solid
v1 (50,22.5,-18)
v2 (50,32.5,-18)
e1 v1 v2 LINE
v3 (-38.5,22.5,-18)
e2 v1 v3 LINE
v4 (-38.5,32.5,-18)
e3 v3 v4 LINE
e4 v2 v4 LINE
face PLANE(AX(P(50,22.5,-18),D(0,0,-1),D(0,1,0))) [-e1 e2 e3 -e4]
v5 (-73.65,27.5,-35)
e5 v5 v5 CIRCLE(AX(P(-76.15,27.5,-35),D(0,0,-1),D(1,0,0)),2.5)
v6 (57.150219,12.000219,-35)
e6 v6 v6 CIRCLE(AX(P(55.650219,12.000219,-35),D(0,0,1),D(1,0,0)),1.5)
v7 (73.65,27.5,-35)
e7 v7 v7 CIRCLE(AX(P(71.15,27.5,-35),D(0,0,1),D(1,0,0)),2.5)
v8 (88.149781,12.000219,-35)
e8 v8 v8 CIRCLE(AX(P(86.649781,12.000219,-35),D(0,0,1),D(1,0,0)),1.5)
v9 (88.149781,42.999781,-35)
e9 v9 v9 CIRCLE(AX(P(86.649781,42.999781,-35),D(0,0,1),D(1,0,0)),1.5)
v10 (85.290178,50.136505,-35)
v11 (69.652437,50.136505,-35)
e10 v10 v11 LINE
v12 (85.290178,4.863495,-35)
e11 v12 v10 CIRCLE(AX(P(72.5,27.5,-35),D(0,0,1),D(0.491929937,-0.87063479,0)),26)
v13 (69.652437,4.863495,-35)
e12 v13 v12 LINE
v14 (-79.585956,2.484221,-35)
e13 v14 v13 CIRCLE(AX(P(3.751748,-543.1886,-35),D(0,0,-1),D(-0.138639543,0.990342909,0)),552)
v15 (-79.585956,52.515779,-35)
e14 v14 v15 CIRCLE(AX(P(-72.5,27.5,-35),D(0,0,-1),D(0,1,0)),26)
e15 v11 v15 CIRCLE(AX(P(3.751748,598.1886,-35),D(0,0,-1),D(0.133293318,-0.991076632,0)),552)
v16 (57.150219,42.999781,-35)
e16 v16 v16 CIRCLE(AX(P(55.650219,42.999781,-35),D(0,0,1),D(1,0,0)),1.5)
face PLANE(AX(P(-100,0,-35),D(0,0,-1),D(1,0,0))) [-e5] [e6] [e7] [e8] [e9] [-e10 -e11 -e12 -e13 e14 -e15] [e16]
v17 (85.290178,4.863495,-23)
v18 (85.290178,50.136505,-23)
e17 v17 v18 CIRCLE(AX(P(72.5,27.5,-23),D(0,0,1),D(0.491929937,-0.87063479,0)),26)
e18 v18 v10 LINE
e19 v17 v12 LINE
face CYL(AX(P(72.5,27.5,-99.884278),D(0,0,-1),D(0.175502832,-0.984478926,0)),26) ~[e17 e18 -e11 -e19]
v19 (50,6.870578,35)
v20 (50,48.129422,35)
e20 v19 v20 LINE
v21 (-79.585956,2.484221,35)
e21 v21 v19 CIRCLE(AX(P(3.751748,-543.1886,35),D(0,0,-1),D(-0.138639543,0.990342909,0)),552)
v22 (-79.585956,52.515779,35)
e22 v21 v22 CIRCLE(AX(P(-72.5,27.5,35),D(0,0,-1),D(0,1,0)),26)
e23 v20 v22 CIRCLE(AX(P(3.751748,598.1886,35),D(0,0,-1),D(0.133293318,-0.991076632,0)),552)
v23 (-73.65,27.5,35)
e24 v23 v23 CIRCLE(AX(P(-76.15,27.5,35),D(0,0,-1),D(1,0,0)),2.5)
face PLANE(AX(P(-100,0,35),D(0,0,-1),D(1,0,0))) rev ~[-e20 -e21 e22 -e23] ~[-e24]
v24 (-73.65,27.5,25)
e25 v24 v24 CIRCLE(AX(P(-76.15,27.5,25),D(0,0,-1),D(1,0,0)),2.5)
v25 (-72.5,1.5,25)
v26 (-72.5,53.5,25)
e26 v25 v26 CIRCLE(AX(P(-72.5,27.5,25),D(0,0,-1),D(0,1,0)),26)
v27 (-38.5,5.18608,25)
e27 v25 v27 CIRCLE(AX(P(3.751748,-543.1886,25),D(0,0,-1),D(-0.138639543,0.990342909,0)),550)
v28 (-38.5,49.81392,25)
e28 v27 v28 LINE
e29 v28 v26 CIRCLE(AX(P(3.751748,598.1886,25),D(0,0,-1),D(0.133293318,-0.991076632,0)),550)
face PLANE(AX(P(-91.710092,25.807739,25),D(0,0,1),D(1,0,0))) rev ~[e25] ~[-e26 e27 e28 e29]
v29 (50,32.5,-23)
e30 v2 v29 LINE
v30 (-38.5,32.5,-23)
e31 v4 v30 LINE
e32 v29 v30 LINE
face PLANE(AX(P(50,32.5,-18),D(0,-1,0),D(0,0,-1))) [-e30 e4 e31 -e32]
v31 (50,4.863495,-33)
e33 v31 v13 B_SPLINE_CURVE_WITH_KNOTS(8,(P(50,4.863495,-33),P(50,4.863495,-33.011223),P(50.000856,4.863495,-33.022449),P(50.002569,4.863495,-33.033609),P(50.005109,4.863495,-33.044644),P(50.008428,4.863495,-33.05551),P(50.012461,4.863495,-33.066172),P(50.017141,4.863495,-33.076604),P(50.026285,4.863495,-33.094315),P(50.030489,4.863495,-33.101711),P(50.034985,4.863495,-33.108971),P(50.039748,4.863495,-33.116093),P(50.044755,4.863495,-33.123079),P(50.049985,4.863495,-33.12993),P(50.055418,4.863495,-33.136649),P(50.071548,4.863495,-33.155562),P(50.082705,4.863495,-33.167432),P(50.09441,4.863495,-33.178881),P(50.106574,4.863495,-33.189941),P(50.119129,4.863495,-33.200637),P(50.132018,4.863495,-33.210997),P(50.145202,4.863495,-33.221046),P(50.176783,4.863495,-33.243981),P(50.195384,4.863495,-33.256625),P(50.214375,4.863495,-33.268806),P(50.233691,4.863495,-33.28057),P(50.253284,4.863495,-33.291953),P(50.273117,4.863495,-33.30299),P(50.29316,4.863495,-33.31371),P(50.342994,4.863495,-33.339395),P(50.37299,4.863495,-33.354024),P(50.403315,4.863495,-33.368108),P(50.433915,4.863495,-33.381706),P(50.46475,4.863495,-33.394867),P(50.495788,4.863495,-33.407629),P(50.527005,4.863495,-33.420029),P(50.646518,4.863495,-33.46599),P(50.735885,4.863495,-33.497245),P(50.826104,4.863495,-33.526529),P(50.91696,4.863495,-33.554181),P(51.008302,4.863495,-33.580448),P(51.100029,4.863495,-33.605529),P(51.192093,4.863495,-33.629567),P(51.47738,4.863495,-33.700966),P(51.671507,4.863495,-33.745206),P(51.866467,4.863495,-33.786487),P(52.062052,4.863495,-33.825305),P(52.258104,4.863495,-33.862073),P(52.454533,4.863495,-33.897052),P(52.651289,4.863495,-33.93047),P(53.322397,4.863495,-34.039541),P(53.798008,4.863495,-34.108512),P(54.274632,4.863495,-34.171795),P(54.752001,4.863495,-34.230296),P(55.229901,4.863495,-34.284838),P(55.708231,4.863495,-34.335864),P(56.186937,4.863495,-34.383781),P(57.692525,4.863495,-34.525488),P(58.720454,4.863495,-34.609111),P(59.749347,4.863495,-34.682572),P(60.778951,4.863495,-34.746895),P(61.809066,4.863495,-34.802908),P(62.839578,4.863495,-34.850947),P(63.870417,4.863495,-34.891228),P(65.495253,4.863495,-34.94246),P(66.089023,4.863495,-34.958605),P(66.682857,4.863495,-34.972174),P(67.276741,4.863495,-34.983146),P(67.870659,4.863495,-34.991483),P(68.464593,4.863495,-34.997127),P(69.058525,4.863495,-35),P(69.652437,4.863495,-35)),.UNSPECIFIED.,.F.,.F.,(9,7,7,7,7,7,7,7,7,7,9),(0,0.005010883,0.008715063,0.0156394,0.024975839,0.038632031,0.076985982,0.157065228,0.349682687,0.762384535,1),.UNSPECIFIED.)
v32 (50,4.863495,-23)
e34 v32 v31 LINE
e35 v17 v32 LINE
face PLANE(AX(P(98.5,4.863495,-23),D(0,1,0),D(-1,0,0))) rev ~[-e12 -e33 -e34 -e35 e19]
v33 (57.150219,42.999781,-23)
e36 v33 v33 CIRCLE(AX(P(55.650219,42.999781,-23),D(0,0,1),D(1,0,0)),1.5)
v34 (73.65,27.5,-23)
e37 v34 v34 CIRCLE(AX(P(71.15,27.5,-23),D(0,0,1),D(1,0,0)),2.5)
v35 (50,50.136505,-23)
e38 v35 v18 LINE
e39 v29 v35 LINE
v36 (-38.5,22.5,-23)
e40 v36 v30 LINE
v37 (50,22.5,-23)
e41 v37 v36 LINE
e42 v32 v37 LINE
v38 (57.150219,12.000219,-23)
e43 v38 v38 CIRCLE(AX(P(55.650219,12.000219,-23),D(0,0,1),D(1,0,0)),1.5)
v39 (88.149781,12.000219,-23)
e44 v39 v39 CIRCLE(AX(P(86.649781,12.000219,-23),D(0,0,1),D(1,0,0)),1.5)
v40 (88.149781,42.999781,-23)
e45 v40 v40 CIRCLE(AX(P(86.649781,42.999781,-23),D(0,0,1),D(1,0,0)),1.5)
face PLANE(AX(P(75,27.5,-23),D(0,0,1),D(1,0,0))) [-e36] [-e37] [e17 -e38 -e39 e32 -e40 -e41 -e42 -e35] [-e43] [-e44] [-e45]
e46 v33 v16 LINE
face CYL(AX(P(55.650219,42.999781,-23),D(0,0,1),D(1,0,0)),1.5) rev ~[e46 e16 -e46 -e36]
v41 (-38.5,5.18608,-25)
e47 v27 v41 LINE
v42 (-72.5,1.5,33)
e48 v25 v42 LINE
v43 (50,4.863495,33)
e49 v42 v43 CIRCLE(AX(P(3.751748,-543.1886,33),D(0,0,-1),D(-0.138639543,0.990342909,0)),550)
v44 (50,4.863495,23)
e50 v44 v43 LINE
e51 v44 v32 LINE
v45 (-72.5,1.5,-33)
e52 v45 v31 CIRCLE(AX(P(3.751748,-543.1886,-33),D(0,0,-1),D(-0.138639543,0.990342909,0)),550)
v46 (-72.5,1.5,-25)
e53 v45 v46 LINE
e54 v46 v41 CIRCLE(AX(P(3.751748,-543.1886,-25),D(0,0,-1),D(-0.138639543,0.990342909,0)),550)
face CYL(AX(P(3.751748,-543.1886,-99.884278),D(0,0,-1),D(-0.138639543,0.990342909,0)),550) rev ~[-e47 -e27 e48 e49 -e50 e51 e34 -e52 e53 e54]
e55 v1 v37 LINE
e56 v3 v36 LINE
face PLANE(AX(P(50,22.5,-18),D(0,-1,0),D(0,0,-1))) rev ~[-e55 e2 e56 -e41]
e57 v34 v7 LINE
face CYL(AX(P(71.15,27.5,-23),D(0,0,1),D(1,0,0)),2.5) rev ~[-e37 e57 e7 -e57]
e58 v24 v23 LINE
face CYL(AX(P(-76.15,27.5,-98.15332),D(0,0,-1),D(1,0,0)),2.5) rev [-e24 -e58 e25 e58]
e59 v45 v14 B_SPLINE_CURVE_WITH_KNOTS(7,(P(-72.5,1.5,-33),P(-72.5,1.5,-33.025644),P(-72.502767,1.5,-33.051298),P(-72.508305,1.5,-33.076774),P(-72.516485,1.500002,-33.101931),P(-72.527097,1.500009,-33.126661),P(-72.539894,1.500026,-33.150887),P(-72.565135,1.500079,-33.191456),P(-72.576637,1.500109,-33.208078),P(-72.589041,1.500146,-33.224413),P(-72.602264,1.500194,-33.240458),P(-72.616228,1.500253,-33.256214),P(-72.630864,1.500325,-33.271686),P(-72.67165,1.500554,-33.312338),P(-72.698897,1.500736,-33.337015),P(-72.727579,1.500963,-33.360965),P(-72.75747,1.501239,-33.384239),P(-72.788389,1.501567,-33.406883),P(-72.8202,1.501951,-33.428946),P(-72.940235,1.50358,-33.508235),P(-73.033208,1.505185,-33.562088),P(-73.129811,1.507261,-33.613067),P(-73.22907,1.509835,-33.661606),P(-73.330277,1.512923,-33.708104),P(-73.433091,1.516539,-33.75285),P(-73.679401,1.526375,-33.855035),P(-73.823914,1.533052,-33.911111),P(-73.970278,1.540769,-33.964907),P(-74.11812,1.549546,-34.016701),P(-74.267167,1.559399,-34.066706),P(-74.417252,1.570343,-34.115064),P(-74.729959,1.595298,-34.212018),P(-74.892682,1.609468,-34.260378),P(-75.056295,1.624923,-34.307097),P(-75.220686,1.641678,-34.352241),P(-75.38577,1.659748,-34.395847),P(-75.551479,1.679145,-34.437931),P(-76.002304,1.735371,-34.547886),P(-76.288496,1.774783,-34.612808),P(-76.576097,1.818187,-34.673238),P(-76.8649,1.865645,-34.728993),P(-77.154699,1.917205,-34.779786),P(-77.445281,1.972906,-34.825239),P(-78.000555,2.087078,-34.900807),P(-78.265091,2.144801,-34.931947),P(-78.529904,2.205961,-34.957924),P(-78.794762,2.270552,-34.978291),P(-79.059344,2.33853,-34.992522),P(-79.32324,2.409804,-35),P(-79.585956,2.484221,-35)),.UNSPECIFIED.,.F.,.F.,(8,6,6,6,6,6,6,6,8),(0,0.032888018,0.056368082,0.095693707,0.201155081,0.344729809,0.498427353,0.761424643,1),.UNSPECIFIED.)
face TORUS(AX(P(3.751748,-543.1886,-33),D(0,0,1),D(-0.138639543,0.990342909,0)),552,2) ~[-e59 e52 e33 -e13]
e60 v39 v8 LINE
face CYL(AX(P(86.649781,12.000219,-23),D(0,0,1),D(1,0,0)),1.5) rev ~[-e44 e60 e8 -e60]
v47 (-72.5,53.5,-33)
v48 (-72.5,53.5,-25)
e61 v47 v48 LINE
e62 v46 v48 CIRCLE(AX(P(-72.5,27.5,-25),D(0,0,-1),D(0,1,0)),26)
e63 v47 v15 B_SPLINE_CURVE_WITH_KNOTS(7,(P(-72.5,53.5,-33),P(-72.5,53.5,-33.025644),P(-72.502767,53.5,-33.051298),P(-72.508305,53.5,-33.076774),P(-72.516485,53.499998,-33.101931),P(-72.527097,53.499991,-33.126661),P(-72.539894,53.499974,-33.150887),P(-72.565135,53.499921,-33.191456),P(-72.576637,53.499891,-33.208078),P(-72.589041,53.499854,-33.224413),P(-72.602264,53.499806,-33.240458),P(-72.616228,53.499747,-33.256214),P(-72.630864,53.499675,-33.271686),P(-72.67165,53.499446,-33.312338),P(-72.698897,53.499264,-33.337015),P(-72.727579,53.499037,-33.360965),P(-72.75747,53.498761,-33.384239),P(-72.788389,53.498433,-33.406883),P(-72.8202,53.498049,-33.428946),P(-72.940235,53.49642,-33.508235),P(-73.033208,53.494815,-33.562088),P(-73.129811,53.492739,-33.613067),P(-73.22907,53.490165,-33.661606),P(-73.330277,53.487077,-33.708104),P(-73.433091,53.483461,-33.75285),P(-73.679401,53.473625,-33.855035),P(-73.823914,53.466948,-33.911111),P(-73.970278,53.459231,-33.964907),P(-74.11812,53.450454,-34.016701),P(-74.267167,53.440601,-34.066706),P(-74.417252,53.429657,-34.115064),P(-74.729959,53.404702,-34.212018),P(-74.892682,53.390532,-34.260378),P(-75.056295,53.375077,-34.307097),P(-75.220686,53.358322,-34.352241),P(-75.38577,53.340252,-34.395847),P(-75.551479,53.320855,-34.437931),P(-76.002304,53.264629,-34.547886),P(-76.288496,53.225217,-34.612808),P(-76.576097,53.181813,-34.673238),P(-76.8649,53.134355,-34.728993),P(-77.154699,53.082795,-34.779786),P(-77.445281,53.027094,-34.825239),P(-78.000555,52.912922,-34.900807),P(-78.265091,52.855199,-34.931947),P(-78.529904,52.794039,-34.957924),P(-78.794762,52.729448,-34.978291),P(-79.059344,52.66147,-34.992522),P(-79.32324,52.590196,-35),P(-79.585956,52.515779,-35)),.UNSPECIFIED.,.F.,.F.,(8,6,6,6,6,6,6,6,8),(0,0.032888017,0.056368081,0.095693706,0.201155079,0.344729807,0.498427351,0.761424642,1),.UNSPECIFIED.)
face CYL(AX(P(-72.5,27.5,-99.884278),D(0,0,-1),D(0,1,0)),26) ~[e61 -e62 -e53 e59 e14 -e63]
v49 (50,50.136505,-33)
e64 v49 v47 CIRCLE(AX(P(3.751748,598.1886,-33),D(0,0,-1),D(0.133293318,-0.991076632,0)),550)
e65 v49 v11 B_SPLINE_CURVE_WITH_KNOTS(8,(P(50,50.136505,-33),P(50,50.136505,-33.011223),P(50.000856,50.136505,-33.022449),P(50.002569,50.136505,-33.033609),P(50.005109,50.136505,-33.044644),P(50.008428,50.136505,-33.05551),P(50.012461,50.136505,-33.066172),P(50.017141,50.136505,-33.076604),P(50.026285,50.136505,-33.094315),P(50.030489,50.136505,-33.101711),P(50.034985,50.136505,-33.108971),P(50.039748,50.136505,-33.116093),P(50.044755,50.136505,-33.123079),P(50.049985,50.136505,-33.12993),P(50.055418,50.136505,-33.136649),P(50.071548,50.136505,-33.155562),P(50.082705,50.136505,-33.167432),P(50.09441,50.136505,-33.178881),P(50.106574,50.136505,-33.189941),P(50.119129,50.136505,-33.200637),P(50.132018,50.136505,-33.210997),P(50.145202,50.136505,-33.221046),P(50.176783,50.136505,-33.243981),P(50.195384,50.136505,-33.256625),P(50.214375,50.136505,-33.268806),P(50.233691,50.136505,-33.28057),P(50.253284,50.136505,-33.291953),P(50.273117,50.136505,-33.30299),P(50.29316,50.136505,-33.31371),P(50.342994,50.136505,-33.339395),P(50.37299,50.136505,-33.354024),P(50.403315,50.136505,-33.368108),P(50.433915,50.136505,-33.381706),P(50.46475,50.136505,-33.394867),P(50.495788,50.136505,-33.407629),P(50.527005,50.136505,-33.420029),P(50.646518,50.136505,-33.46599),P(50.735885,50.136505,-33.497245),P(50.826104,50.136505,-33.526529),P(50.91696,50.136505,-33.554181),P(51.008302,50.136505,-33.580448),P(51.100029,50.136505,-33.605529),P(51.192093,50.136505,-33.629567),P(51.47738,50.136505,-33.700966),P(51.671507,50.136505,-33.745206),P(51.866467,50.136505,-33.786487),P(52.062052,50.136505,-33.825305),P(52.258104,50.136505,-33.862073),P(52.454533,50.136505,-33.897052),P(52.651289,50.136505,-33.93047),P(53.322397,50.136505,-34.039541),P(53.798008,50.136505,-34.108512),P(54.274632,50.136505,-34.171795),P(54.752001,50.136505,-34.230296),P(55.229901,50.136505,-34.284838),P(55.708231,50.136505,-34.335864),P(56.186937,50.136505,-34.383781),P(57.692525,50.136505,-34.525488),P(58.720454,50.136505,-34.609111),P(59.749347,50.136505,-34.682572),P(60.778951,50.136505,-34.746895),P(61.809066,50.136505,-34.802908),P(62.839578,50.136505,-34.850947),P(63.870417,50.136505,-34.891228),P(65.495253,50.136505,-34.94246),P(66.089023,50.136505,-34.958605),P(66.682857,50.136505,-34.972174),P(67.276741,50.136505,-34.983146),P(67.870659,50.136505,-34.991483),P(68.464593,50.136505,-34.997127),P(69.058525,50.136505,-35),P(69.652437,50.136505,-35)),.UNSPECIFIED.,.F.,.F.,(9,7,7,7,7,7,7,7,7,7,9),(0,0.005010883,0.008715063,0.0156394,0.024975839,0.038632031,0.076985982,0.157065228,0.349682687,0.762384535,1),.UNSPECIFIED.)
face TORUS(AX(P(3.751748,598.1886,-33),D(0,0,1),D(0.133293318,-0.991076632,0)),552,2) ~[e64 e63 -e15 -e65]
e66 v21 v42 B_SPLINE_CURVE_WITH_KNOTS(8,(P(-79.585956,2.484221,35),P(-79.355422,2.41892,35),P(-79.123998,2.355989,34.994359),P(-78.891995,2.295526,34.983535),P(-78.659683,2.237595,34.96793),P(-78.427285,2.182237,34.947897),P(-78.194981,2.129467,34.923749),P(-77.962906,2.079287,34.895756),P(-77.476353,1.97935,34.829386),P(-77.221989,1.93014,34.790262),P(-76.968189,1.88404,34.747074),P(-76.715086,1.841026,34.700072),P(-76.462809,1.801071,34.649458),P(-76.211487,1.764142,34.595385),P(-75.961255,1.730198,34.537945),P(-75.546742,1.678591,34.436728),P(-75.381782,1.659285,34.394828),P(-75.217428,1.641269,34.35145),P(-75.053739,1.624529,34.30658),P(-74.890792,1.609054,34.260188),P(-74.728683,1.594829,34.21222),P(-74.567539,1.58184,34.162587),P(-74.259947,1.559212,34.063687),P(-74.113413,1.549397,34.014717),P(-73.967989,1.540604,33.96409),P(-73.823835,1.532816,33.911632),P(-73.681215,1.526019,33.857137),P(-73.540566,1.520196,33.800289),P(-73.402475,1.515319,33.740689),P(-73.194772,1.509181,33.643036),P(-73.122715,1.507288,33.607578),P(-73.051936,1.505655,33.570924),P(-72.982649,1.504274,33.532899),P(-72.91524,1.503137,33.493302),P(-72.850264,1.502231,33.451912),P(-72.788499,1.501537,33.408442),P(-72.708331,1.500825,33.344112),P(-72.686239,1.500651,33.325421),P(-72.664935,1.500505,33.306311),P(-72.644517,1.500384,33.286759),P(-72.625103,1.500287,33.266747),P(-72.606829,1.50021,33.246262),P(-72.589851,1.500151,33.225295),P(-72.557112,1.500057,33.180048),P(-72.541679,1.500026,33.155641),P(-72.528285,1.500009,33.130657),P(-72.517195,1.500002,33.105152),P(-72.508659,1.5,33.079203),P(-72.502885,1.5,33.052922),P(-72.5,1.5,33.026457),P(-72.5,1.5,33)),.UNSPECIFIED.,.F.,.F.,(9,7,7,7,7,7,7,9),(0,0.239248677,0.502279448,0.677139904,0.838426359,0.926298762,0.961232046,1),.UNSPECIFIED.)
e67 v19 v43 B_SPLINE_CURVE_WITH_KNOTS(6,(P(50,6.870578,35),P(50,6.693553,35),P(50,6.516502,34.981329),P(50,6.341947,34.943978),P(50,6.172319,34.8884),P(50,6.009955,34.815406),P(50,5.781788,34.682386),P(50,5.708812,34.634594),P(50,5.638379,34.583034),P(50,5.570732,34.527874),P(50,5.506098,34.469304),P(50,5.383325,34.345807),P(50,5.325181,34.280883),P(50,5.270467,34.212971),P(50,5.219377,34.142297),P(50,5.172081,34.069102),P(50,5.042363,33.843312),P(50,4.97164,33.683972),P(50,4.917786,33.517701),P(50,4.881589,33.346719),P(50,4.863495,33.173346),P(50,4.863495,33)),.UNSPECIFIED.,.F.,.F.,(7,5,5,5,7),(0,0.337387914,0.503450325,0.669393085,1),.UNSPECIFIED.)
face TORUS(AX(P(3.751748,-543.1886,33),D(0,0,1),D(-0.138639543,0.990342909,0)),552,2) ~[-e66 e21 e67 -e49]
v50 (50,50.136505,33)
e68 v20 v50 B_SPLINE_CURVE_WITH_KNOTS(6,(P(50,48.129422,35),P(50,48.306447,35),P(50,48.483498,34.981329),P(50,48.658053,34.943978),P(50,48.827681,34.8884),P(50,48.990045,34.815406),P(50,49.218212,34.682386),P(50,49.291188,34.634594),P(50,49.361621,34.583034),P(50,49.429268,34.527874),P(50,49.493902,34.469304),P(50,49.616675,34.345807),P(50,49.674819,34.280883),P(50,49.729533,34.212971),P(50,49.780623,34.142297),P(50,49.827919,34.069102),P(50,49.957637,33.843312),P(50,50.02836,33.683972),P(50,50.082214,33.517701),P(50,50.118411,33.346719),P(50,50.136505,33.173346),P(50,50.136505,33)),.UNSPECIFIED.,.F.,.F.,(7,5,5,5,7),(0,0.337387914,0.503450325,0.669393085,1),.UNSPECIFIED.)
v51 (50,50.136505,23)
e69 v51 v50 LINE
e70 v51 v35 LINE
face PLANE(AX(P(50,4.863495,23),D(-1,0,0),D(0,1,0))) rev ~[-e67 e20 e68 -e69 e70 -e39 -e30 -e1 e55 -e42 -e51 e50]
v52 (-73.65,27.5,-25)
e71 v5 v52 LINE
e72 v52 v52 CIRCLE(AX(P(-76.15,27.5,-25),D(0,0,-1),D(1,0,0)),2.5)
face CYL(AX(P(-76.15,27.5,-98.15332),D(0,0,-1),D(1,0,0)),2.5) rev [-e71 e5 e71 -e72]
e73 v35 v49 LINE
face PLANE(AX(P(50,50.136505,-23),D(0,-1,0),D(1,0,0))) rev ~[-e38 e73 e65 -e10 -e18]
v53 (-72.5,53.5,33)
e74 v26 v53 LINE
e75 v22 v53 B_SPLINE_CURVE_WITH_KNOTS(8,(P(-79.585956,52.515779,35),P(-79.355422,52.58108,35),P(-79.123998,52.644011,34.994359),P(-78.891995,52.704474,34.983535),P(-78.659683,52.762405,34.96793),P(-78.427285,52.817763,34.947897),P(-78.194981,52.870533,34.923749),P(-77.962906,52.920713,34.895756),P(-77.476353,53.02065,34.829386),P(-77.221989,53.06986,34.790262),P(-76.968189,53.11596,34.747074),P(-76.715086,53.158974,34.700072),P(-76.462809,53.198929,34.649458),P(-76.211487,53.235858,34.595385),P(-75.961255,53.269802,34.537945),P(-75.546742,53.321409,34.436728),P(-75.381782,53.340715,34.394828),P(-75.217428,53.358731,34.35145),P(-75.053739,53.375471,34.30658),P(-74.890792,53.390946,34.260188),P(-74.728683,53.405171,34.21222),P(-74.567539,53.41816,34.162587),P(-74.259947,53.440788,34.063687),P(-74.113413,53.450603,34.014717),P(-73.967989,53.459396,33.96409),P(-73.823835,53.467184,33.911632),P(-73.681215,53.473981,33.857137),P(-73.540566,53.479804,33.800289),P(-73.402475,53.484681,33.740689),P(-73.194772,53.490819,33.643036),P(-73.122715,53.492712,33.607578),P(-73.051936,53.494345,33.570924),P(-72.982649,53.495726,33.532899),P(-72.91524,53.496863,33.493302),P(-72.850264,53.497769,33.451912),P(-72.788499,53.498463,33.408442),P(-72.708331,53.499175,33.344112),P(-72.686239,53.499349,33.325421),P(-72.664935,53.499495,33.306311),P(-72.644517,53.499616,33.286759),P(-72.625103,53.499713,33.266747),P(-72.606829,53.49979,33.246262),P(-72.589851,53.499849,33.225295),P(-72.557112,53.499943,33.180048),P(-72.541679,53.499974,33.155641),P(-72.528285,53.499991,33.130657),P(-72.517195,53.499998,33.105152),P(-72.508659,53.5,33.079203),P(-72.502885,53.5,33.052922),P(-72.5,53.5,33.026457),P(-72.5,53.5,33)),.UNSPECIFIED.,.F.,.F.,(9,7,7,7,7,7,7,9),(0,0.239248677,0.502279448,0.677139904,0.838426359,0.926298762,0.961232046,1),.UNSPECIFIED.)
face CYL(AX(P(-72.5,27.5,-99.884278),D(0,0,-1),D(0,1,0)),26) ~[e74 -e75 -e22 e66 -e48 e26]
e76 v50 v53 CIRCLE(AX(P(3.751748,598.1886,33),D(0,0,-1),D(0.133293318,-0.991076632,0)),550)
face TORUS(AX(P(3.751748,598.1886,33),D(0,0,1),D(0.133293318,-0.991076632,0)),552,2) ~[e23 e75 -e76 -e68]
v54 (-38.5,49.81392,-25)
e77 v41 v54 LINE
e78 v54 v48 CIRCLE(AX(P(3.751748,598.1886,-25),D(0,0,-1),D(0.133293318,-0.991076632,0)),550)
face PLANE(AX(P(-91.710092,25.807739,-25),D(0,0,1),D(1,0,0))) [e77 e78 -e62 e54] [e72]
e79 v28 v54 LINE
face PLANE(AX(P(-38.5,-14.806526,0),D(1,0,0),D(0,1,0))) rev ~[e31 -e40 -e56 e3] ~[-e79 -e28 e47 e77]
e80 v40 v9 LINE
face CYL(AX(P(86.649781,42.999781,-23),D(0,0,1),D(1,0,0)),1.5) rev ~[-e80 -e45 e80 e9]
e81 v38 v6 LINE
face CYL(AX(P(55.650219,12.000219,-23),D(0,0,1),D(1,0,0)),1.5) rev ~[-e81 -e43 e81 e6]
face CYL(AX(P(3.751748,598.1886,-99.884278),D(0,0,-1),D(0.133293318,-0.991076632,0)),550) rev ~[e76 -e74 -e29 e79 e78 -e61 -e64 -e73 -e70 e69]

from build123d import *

# Parameters (mm, degrees)
SKETCH1_W               = 200
SKETCH1_H               = 70
BOSS_EXTRUDE1_DEPTH     = 55
SKETCH3_W               = 50
SKETCH3_H               = 55
CUT_EXTRUDE1_DEPTH      = 23
CUT_EXTRUDE2_DEPTH      = 134.88427839
CUT_EXTRUDE2_DEPTH_BACK = 134.88427839
SKETCH4_OUTSIDE_W       = 245.784
SKETCH4_OUTSIDE_H       = 100.784
FILLET2_R               = 2
CUT_EXTRUDE6_DEPTH      = 133.153320217
CUT_EXTRUDE6_DEPTH_BACK = 133.153320217
SKETCH11_R              = 2.5
SKETCH12_W              = 106.420184481
SKETCH12_H              = 81.22852992
CUT_EXTRUDE7_DEPTH      = 25
CUT_EXTRUDE8_DEPTH      = 127.208161551
CUT_EXTRUDE9_DEPTH      = 50
SKETCH15_R              = 2.5
SKETCH15_R_2            = 1.5
CUT_EXTRUDE10_DEPTH     = 50
SKETCH16_W              = 5
SKETCH16_H              = 10
CUT_EXTRUDE11_DEPTH     = 162.677147573


with BuildPart() as part:
    # Sketch1 → Boss-Extrude1 (new body)
    with BuildSketch(Plane(origin=(0, 0, 0), x_dir=(1, 0, 0), z_dir=(0, 1, 0))):
        Rectangle(SKETCH1_W, SKETCH1_H)
    extrude(amount=BOSS_EXTRUDE1_DEPTH)

    # Sketch3 → Cut-Extrude1 (cut, symmetric)
    with BuildSketch(Plane.XY):
        with Locations((75, 27.5)):
            Rectangle(SKETCH3_W, SKETCH3_H)
    extrude(amount=CUT_EXTRUDE1_DEPTH, both=True, mode=Mode.SUBTRACT)

    # Sketch4 outside → Cut-Extrude2 (cut, two sides: drawn at the far end of the back side and taken through both)
    with BuildSketch(Plane.XY.offset(35).offset(-CUT_EXTRUDE2_DEPTH_BACK)):
        with Locations((0, 27.5)):
            Rectangle(SKETCH4_OUTSIDE_W, SKETCH4_OUTSIDE_H)
        with BuildLine():
            ThreePointArc((-72.5, 53.5), (-98.5, 27.5), (-72.5, 1.5))
            ThreePointArc((-72.5, 1.5), (2.267755531, 6.809398073), (77.063073628, 1.90354792))
            ThreePointArc((77.063073628, 1.90354792), (98.5, 27.5), (77.063073628, 53.09645208))
            ThreePointArc((77.063073628, 53.09645208), (2.267755531, 48.190601927), (-72.5, 53.5))
        make_face(mode=Mode.SUBTRACT)
    extrude(amount=CUT_EXTRUDE2_DEPTH + CUT_EXTRUDE2_DEPTH_BACK, mode=Mode.SUBTRACT)

    # Fillet2
    fillet2_edges = [part.edges().sort_by_distance(p)[0] for p in [
        (2.267755531, 48.190601927, -35),
        (2.267755531, 6.809398073, -35),
        (2.267755531, 48.190601927, 35),
        (2.267755531, 6.809398073, 35),
    ]]
    fillet(fillet2_edges, radius=FILLET2_R)

    # Sketch11 → Cut-Extrude6 (cut, two sides: drawn at the far end of the back side and taken through both)
    with BuildSketch(Plane.XY.offset(35).offset(-CUT_EXTRUDE6_DEPTH_BACK)):
        with Locations((-76.15, 27.5)):
            Circle(SKETCH11_R)
    extrude(amount=CUT_EXTRUDE6_DEPTH + CUT_EXTRUDE6_DEPTH_BACK, mode=Mode.SUBTRACT)

    # Sketch12 → Cut-Extrude7 (cut, symmetric)
    with BuildSketch(Plane.XY):
        with Locations((-91.710092241, 25.80773896)):
            Rectangle(SKETCH12_W, SKETCH12_H)
    extrude(amount=CUT_EXTRUDE7_DEPTH, both=True, mode=Mode.SUBTRACT)

    # Sketch13 → Cut-Extrude8 (cut, through all)
    with BuildSketch(Plane(origin=(0, 0, 23), x_dir=(-1, 0, 0), z_dir=(0, 0, -1))):
        with BuildLine():
            Line((-50, 4.863495472), (-50, 50.136504528))
            ThreePointArc((-50, 50.136504528), (-63.549853932, 51.449003205), (-77.063073628, 53.09645208))
            ThreePointArc((-77.063073628, 53.09645208), (-98.5, 27.5), (-77.063073628, 1.90354792))
            ThreePointArc((-77.063073628, 1.90354792), (-63.549853932, 3.550996795), (-50, 4.863495472))
        make_face()
    extrude(amount=-CUT_EXTRUDE8_DEPTH, mode=Mode.SUBTRACT)

    # Sketch14 → Cut-Extrude9 (cut)
    with BuildSketch(Plane.XY.offset(-23)):
        Polygon((50, 4.863495472), (79.442513565, -11.304195271), (157.593662914, 0), (128.462884047, 83.234297684), (50, 50.136504528), (98.5, 50.136504528), (98.5, 4.863495472), align=None)
    extrude(amount=-CUT_EXTRUDE9_DEPTH, mode=Mode.SUBTRACT)

    # Sketch15 → Cut-Extrude10 (cut)
    with BuildSketch(Plane.XY.offset(-23)):
        with Locations((71.15, 27.5)):
            Circle(SKETCH15_R)
        with Locations((55.650219356, 42.999780644)):
            Circle(SKETCH15_R_2)
        with Locations((86.649780644, 42.999780644)):
            Circle(SKETCH15_R_2)
        with Locations((86.649780644, 12.000219356)):
            Circle(SKETCH15_R_2)
        with Locations((55.650219356, 12.000219356)):
            Circle(SKETCH15_R_2)
    extrude(amount=-CUT_EXTRUDE10_DEPTH, mode=Mode.SUBTRACT)

    # Sketch16 → Cut-Extrude11 (cut, through all)
    with BuildSketch(Plane(origin=(50, 0, 0), x_dir=(0, 0, -1), z_dir=(1, 0, 0))):
        with Locations((20.5, 27.5)):
            Rectangle(SKETCH16_W, SKETCH16_H)
    extrude(amount=-CUT_EXTRUDE11_DEPTH, mode=Mode.SUBTRACT)


solid = part.part
